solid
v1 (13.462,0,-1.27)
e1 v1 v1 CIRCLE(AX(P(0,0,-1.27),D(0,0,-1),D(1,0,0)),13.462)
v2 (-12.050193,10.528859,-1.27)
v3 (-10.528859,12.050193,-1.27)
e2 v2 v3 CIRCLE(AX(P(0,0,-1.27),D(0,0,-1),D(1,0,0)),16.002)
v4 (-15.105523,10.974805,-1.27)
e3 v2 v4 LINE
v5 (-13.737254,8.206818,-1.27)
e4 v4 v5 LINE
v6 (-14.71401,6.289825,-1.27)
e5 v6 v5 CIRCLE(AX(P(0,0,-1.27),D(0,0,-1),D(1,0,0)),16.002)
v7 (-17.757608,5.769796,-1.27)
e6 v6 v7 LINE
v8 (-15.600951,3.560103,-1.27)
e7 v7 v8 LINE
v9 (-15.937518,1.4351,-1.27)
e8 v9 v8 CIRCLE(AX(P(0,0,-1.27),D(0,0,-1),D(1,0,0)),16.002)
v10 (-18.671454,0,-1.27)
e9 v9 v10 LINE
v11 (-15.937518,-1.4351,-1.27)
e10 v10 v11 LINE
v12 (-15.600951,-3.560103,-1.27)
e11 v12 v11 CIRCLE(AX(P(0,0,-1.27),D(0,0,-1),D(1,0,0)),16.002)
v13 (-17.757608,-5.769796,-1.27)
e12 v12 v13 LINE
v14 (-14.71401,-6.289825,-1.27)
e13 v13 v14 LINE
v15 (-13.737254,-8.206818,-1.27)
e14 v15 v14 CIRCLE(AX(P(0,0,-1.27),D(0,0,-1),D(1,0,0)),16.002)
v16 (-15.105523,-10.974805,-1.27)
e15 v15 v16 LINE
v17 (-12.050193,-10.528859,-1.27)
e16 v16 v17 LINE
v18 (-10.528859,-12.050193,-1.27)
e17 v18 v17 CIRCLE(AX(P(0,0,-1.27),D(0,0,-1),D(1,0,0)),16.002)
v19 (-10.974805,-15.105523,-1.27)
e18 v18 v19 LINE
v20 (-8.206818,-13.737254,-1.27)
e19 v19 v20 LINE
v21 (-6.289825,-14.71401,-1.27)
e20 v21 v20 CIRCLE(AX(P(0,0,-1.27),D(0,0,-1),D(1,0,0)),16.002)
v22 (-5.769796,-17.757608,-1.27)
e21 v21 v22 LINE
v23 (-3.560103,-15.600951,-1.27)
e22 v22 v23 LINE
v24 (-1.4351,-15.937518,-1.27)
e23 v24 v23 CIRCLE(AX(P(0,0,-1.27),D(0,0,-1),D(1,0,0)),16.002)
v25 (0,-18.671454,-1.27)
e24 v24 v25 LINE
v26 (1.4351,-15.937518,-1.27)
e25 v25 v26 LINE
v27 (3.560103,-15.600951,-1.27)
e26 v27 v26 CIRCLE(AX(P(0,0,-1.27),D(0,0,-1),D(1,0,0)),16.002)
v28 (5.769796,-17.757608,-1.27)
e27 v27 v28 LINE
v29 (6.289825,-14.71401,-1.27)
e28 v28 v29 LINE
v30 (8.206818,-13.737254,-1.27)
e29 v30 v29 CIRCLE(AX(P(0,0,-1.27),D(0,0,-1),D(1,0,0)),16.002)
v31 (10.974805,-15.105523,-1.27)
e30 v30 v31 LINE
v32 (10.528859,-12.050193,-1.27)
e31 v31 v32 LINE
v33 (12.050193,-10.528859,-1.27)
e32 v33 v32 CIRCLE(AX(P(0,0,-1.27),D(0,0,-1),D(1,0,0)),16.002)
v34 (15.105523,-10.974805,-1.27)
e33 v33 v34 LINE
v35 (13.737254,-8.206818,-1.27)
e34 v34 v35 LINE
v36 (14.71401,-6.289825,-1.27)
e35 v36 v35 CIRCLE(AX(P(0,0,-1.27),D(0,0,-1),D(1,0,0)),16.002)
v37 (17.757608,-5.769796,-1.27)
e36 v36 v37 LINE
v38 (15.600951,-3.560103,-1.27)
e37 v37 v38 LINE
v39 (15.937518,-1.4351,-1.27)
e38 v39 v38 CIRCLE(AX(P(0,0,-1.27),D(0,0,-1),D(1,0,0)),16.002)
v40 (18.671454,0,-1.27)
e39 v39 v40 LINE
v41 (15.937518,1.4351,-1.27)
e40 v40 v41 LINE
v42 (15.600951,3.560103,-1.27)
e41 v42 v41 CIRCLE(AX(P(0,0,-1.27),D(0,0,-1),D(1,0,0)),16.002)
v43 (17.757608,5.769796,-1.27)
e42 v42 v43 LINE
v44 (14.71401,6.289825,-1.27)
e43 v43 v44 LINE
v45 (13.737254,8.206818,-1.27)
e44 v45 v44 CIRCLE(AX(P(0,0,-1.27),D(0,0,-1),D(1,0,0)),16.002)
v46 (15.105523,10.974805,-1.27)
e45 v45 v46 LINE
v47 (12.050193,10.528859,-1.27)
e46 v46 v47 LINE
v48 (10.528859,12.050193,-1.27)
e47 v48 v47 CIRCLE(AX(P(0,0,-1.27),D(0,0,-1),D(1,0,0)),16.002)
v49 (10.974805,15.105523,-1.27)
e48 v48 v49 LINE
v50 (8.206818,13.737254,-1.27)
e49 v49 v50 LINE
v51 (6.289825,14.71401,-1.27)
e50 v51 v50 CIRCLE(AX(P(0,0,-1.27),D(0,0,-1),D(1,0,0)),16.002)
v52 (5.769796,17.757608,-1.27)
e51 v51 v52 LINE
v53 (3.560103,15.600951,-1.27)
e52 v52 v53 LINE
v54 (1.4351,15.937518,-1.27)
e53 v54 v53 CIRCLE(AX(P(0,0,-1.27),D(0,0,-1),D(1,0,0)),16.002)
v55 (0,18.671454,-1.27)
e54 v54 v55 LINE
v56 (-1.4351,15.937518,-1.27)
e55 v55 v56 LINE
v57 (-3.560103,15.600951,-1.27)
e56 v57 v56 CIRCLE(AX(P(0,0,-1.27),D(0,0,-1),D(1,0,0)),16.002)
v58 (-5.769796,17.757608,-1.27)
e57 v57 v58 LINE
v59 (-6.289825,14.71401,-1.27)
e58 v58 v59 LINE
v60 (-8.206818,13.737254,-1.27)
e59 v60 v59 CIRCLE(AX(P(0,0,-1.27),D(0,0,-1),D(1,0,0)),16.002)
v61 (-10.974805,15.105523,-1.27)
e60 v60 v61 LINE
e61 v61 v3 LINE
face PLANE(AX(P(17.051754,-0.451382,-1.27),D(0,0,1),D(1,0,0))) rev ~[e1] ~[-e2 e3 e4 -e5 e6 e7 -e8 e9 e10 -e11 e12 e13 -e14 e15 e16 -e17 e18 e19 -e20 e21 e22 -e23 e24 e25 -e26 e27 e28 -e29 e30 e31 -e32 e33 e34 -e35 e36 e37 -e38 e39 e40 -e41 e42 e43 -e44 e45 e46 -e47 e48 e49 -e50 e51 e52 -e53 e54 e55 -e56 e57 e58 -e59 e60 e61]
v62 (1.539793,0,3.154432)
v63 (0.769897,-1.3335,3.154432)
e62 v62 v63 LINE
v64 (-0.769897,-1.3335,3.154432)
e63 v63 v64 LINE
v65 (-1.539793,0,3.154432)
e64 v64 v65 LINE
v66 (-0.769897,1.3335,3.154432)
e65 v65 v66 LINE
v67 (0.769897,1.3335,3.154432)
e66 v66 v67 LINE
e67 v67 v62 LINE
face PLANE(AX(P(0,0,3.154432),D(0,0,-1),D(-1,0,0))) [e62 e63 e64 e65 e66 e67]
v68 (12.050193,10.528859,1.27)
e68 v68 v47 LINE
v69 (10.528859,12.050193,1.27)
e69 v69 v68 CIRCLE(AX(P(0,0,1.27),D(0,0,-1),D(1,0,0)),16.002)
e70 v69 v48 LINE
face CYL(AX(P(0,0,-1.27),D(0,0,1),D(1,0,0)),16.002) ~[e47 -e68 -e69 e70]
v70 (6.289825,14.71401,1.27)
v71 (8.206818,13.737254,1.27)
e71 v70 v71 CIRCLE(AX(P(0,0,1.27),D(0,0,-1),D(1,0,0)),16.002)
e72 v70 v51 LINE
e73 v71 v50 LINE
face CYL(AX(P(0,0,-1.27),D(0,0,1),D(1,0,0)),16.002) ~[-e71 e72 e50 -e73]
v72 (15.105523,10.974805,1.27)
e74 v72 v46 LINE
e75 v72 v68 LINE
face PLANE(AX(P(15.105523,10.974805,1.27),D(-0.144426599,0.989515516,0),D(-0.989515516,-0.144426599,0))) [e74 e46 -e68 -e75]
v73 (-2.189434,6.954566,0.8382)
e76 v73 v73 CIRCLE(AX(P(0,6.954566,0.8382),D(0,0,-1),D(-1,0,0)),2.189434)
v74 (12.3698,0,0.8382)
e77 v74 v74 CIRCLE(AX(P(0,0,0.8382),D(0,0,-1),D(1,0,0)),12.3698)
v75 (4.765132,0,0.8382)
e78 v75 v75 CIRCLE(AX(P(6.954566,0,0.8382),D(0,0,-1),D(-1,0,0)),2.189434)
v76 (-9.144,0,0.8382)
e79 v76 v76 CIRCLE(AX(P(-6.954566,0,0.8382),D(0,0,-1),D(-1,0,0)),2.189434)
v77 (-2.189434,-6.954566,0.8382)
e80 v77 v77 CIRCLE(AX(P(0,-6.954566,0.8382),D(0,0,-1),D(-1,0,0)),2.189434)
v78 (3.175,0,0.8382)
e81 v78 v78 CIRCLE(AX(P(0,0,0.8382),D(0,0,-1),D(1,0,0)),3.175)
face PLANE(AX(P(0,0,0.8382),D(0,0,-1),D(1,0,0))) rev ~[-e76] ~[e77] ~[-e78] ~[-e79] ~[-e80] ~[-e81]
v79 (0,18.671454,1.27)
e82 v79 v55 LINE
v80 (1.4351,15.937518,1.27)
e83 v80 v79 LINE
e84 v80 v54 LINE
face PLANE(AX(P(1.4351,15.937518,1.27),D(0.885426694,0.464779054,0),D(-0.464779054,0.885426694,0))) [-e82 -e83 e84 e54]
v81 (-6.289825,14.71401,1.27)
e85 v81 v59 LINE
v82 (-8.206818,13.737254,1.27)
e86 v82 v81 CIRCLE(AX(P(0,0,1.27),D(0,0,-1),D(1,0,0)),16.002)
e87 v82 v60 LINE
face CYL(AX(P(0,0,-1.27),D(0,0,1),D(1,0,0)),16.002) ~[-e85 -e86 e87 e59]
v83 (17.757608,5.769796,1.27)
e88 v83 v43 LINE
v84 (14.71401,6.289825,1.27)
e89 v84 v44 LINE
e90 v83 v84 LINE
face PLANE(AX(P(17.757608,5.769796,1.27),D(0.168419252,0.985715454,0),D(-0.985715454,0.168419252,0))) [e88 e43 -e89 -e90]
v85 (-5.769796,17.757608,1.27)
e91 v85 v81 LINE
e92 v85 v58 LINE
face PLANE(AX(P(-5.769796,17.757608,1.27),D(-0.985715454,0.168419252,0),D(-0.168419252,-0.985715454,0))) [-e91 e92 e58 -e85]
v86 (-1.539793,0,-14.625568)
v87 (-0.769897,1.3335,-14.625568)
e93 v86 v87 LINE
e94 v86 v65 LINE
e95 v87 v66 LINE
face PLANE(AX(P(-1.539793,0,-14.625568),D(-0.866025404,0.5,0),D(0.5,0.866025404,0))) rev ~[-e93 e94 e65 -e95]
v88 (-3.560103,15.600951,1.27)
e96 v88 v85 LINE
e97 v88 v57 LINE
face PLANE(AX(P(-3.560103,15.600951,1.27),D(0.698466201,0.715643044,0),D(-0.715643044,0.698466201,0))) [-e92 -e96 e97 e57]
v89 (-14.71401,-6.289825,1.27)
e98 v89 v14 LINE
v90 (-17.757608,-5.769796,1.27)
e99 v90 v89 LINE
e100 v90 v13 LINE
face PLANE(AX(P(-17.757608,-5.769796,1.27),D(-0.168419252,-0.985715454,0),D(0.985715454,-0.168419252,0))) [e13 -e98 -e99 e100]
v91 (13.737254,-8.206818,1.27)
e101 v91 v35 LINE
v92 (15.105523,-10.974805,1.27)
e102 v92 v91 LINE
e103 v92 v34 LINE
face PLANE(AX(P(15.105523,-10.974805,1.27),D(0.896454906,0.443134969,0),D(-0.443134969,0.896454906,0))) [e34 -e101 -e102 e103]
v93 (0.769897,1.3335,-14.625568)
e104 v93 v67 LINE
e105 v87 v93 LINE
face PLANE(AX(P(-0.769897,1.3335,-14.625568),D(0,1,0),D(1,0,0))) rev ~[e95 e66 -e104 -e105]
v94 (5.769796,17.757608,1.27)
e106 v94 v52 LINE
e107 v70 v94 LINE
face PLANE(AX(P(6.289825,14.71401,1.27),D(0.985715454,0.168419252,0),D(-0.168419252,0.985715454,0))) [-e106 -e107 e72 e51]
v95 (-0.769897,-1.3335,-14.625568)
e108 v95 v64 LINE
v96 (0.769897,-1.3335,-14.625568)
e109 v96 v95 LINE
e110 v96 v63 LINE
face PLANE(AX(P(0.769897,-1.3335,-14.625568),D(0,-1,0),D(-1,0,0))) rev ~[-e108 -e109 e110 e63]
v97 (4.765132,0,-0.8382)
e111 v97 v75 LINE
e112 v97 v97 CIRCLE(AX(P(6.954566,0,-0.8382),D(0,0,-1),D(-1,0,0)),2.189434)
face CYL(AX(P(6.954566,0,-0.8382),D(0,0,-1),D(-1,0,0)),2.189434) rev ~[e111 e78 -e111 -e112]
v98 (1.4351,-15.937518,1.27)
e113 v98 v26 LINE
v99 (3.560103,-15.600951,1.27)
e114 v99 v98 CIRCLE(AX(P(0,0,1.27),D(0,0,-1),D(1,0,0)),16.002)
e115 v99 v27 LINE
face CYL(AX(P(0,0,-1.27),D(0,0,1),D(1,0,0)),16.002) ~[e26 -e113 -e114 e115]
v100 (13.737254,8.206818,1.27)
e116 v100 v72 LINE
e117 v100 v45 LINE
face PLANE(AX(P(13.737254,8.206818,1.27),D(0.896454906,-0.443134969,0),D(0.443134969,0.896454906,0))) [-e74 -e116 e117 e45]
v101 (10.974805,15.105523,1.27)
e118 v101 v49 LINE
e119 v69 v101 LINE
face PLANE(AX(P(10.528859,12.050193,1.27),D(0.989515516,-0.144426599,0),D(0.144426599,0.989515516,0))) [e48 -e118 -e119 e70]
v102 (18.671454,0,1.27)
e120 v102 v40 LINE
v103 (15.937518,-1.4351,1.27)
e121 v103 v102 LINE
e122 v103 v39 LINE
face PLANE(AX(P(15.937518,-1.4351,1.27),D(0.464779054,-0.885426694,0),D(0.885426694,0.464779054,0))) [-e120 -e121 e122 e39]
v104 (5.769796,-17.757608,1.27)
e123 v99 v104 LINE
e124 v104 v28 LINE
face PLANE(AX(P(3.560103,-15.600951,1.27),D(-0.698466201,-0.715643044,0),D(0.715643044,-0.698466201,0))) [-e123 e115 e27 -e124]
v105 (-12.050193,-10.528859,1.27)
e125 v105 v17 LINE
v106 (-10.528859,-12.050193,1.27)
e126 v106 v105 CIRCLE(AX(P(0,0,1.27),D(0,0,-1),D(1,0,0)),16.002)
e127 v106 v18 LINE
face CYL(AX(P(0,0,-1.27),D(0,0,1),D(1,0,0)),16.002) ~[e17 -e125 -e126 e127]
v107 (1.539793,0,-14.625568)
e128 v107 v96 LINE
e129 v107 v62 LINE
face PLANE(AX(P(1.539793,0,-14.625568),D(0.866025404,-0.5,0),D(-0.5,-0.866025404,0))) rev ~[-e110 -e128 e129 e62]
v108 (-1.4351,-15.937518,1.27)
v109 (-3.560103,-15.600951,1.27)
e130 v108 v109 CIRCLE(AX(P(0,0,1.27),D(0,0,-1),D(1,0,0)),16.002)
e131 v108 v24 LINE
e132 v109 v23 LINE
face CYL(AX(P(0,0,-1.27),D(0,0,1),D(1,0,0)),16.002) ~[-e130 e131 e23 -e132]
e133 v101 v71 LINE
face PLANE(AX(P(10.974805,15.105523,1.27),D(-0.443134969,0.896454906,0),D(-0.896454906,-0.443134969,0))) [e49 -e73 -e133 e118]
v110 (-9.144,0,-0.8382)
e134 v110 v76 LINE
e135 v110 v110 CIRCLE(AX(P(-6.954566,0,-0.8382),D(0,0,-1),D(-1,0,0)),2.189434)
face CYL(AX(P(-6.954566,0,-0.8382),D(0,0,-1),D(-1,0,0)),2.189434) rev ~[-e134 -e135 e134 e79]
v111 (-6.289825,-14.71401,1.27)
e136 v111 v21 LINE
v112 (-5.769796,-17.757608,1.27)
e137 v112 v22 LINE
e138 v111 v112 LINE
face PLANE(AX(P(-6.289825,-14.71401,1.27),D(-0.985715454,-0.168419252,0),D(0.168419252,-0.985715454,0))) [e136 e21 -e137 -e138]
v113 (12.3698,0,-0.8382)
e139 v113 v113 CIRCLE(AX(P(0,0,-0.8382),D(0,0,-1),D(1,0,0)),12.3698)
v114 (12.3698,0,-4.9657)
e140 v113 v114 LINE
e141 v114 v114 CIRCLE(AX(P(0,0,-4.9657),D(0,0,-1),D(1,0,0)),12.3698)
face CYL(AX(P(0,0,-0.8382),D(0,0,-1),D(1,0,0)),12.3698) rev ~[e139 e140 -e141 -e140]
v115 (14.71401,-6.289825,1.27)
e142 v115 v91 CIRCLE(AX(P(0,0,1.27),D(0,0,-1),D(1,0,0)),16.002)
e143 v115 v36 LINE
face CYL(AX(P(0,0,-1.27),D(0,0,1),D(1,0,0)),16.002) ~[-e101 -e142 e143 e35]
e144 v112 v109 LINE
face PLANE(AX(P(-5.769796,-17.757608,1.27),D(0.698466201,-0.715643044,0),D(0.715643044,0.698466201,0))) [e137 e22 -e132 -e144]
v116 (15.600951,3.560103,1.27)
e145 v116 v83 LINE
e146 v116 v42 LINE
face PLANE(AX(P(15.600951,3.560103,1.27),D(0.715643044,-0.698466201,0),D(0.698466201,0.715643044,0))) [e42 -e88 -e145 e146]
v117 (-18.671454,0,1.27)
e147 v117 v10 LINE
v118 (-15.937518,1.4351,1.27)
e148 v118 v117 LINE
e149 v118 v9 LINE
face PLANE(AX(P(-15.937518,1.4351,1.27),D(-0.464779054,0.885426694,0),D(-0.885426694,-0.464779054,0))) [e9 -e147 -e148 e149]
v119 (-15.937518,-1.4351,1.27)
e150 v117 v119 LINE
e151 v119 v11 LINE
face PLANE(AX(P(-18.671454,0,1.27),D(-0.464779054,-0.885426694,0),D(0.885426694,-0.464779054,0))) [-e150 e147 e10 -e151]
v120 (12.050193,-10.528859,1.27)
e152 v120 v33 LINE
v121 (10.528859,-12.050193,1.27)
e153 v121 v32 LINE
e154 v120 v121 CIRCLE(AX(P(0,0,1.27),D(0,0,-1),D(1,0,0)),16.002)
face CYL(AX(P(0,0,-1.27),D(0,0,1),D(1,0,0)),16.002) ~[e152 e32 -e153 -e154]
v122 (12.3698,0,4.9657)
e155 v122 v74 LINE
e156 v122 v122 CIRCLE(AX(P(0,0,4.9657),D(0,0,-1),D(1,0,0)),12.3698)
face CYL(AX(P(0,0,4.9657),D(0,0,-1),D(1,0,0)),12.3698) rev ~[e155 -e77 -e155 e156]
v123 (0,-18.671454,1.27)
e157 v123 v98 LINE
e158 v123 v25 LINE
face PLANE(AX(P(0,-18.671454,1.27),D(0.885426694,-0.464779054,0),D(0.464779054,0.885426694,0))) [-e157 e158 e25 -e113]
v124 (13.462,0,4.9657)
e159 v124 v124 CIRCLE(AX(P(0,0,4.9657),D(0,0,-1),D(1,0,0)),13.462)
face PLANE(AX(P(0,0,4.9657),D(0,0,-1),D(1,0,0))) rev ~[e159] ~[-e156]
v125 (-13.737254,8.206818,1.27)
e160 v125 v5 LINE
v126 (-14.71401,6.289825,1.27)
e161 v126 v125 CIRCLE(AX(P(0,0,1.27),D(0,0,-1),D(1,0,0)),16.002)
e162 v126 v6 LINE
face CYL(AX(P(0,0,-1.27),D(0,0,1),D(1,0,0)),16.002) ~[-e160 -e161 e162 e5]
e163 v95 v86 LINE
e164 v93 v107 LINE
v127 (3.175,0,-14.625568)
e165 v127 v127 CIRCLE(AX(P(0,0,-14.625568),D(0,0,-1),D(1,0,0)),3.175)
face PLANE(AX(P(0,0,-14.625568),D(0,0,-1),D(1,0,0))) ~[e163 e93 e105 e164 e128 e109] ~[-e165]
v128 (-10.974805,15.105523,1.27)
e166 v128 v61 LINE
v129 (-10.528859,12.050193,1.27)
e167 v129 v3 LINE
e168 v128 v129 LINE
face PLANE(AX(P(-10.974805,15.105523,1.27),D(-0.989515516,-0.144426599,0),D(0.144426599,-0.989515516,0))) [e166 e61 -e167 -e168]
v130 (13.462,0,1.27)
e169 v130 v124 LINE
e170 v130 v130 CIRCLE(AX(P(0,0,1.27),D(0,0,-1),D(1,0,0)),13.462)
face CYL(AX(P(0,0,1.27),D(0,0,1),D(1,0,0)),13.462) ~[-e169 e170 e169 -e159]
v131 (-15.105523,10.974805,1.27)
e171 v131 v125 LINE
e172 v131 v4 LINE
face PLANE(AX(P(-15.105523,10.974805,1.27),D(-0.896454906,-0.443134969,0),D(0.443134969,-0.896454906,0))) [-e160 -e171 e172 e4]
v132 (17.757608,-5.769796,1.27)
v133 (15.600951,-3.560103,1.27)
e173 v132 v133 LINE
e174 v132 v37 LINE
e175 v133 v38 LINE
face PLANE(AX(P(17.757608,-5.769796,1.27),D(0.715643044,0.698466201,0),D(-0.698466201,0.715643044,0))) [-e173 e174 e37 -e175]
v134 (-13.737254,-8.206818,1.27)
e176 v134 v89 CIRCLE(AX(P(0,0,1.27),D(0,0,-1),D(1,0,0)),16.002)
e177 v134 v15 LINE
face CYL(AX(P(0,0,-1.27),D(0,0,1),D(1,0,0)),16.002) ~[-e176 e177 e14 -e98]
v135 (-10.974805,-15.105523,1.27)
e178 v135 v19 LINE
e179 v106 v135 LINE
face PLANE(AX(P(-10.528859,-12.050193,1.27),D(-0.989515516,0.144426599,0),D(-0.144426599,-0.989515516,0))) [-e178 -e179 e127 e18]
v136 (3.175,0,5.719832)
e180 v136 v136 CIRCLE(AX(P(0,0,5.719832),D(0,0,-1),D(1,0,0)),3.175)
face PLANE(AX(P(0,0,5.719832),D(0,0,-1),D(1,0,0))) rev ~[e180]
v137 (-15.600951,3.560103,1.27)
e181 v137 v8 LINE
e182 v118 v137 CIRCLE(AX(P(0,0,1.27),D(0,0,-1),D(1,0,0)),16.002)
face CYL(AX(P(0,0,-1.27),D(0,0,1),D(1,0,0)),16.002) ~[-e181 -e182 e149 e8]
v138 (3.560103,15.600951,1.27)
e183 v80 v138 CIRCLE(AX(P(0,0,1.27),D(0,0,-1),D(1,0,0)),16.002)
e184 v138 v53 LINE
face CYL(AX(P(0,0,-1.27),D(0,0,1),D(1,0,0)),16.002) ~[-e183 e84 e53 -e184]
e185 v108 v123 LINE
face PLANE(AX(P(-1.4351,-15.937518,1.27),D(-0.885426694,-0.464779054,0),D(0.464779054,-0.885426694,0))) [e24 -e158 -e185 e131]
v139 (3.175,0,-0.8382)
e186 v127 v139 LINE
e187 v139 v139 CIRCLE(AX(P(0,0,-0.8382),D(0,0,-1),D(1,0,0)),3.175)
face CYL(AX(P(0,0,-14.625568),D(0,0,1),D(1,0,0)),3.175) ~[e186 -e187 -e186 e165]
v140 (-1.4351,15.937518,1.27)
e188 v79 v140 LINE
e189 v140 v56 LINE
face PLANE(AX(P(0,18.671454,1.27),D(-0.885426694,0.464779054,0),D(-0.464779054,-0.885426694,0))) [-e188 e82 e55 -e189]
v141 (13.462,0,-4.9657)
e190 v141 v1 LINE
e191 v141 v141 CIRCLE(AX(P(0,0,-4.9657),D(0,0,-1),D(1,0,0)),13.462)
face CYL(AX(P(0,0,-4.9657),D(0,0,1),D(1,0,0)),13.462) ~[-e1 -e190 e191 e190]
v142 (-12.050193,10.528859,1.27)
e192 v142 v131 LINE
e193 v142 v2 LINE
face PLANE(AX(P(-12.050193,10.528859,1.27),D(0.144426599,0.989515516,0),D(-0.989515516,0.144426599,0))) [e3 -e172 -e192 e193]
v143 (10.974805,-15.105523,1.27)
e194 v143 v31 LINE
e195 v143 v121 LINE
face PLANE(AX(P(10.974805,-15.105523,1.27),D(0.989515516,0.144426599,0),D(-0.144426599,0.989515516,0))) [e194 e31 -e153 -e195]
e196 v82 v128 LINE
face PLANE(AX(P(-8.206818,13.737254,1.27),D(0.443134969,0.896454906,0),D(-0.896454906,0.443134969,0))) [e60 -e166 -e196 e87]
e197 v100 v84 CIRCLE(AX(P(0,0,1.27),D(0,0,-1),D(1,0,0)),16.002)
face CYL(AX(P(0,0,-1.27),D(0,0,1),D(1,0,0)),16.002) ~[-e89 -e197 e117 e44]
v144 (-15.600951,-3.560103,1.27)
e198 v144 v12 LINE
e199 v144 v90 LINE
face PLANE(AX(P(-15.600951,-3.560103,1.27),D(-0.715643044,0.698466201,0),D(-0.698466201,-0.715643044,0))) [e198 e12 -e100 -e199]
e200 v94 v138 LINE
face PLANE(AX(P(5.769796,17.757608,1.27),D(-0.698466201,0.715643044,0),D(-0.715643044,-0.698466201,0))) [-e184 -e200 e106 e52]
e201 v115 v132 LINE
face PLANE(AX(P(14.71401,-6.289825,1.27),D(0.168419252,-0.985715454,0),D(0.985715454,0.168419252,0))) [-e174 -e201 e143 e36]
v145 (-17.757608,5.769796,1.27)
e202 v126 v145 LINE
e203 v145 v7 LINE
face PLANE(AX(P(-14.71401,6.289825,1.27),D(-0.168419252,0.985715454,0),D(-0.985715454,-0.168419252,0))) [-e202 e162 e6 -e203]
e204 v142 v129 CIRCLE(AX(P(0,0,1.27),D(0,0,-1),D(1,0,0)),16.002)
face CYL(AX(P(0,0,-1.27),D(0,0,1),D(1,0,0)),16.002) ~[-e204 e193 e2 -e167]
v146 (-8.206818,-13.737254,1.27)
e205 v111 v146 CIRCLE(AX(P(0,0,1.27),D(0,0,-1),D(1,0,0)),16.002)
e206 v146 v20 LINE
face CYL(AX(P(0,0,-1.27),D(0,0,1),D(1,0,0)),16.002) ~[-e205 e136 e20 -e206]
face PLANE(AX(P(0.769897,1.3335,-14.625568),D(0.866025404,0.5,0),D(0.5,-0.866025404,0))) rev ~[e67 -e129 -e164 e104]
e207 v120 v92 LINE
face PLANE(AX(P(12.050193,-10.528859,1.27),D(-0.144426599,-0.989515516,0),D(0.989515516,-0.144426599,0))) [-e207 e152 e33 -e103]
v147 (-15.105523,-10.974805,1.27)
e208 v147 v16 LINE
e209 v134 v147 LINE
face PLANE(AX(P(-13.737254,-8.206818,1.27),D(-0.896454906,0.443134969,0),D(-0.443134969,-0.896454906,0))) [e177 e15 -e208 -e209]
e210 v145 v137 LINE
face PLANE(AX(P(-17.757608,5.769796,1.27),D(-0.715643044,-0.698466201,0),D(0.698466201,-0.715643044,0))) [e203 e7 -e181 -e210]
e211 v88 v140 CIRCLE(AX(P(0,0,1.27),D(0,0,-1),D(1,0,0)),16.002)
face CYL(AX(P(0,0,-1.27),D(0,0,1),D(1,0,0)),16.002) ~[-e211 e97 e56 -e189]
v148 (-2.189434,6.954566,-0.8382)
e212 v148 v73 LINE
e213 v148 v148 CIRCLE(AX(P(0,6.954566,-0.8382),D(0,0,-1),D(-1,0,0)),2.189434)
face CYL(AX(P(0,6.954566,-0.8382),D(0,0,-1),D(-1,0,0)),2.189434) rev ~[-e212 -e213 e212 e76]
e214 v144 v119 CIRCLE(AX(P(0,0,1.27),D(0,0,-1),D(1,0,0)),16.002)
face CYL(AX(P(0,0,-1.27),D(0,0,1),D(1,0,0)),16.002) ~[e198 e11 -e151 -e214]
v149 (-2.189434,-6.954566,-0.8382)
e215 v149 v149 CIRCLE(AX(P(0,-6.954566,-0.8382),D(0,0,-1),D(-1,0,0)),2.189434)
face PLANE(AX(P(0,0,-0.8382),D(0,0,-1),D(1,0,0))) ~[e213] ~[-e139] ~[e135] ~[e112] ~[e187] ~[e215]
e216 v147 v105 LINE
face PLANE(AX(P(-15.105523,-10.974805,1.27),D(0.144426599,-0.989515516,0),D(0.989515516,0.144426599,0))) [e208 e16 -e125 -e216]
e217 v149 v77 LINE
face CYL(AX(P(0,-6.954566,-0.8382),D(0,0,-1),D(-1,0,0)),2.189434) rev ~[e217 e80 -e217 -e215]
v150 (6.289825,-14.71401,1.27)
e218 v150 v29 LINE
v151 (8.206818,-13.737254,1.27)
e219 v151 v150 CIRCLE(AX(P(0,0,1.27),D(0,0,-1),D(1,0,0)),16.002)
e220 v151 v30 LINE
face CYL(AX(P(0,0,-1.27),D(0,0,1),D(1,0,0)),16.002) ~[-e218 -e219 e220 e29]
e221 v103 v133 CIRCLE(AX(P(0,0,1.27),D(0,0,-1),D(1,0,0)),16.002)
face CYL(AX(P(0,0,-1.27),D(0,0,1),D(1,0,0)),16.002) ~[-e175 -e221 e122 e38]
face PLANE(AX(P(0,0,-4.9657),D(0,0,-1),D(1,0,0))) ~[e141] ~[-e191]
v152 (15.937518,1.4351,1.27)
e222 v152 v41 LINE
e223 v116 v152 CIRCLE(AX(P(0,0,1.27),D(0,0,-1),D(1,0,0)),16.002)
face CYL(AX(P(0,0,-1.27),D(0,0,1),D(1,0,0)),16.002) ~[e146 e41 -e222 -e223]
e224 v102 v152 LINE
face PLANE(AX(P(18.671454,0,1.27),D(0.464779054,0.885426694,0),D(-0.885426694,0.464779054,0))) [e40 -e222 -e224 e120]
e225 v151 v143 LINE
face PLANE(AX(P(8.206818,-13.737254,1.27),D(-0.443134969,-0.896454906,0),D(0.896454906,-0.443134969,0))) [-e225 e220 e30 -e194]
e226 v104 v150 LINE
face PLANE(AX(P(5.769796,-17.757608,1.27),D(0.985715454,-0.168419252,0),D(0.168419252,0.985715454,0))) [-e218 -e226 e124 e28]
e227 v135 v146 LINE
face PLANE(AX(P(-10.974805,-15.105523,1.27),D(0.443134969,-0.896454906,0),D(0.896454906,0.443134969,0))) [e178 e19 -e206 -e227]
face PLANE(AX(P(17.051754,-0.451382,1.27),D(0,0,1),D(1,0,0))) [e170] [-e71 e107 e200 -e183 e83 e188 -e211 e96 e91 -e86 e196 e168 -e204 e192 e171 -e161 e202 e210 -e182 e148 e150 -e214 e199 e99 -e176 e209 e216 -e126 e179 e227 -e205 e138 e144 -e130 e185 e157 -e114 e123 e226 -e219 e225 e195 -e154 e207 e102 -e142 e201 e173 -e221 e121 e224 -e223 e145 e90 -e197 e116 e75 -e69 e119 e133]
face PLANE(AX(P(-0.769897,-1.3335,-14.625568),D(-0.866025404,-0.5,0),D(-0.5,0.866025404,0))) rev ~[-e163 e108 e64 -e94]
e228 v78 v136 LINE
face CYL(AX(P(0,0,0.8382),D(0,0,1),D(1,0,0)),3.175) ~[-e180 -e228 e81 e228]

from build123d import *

# Parameters (mm, degrees)
CUT_EXTRUDE2_DEPTH  = 17.78
SKETCH4_R           = 2.189434211
CUT_EXTRUDE3_DEPTH  = 1.6764
BOSS_EXTRUDE1_DEPTH = 2.54


with BuildPart() as part:
    # Sketch1 → Revolve1 (revolve)
    with BuildSketch(Plane(origin=(0, 0, 0), x_dir=(0, 0, -1), z_dir=(1, 0, 0)), mode=Mode.PRIVATE) as revolve1_sk:
        Polygon((4.9657, 13.462), (1.27, 13.462), (1.27, 16.002), (-1.27, 16.002), (-1.27, 13.462), (-4.9657, 13.462), (-4.9657, 12.3698), (-0.8382, 12.3698), (-0.8382, 3.175), (-5.719832453, 3.175), (-5.719832453, 0), (0, 0), (14.625567547, 0), (14.625567547, 3.175), (0.8382, 3.175), (0.8382, 12.3698), (4.9657, 12.3698), align=None)
    revolve(revolve1_sk.sketch.rotate(Axis((0, 0, 0), (0, 0, -1)), 90), axis=Axis((0, 0, 0), (0, 0, -1)))

    # Sketch3 → Cut-Extrude2 (cut)
    with BuildSketch(Plane(origin=(0, 0, -14.625567547), x_dir=(-1, 0, 0), z_dir=(0, 0, -1))):
        Polygon((1.539793168, 0), (0.769896584, 1.3335), (-0.769896584, 1.3335), (-1.539793168, 0), (-0.769896584, -1.3335), (0.769896584, -1.3335), align=None)
    extrude(amount=-CUT_EXTRUDE2_DEPTH, mode=Mode.SUBTRACT)

    # Sketch4 → Cut-Extrude3 (cut)
    with BuildSketch(Plane(origin=(0, 0, -0.8382), x_dir=(-1, 0, 0), z_dir=(0, 0, -1))):
        with Locations((0, 6.954565789)):
            Circle(SKETCH4_R)
        with Locations((6.954565789, 0)):
            Circle(SKETCH4_R)
        with Locations((0, -6.954565789)):
            Circle(SKETCH4_R)
        with Locations((-6.954565789, 0)):
            Circle(SKETCH4_R)
    extrude(amount=-CUT_EXTRUDE3_DEPTH, mode=Mode.SUBTRACT)

    # Sketch5 → Boss-Extrude1 (add)
    with BuildSketch(Plane.XY.offset(1.27)):
        with BuildLine():
            ThreePointArc((-13.73725383, 8.206817971), (-12.945889944, 9.405739607), (-12.050192599, 10.528858548))
            Line((-12.050192599, 10.528858548), (-15.10552331, 10.974805092))
            Line((-15.10552331, 10.974805092), (-13.73725383, 8.206817971))
        make_face()
        with BuildLine():
            ThreePointArc((-10.528858548, 12.050192599), (-9.405739607, 12.945889944), (-8.206817971, 13.73725383))
            Line((-8.206817971, 13.73725383), (-10.974805092, 15.10552331))
            Line((-10.974805092, 15.10552331), (-10.528858548, 12.050192599))
        make_face()
        with BuildLine():
            ThreePointArc((-6.289825233, 14.714010417), (-4.944889944, 15.218806374), (-3.56010282, 15.600950994))
            Line((-3.56010282, 15.600950994), (-5.769796486, 17.757607659))
            Line((-5.769796486, 17.757607659), (-6.289825233, 14.714010417))
        make_face()
        with BuildLine():
            ThreePointArc((-1.4351, 15.937518376), (0, 16.002), (1.4351, 15.937518376))
            Line((1.4351, 15.937518376), (0, 18.671453646))
            Line((0, 18.671453646), (-1.4351, 15.937518376))
        make_face()
        with BuildLine():
            ThreePointArc((3.56010282, 15.600950994), (4.944889944, 15.218806374), (6.289825233, 14.714010417))
            Line((6.289825233, 14.714010417), (5.769796486, 17.757607659))
            Line((5.769796486, 17.757607659), (3.56010282, 15.600950994))
        make_face()
        with BuildLine():
            ThreePointArc((8.206817971, 13.73725383), (9.405739607, 12.945889944), (10.528858548, 12.050192599))
            Line((10.528858548, 12.050192599), (10.974805092, 15.10552331))
            Line((10.974805092, 15.10552331), (8.206817971, 13.73725383))
        make_face()
        with BuildLine():
            ThreePointArc((12.050192599, 10.528858548), (12.945889944, 9.405739607), (13.73725383, 8.206817971))
            Line((13.73725383, 8.206817971), (15.10552331, 10.974805092))
            Line((15.10552331, 10.974805092), (12.050192599, 10.528858548))
        make_face()
        with BuildLine():
            ThreePointArc((14.714010417, 6.289825233), (15.218806374, 4.944889944), (15.600950994, 3.56010282))
            Line((15.600950994, 3.56010282), (17.757607659, 5.769796486))
            Line((17.757607659, 5.769796486), (14.714010417, 6.289825233))
        make_face()
        with BuildLine():
            Line((18.671453646, 0), (16.002, 0))
            ThreePointArc((16.002, 0), (15.985871466, -0.718273954), (15.937518376, -1.4351))
            Line((15.937518376, -1.4351), (18.671453646, 0))
        make_face()
        with BuildLine():
            ThreePointArc((15.937518376, 1.4351), (15.985871466, 0.718273954), (16.002, 0))
            Line((16.002, 0), (18.671453646, 0))
            Line((18.671453646, 0), (15.937518376, 1.4351))
        make_face()
        with BuildLine():
            Line((17.757607659, -5.769796486), (15.600950994, -3.56010282))
            ThreePointArc((15.600950994, -3.56010282), (15.218806374, -4.944889944), (14.714010417, -6.289825233))
            Line((14.714010417, -6.289825233), (17.757607659, -5.769796486))
        make_face()
        with BuildLine():
            Line((15.10552331, -10.974805092), (13.73725383, -8.206817971))
            ThreePointArc((13.73725383, -8.206817971), (12.945889944, -9.405739607), (12.050192599, -10.528858548))
            Line((12.050192599, -10.528858548), (15.10552331, -10.974805092))
        make_face()
        with BuildLine():
            Line((10.974805092, -15.10552331), (10.528858548, -12.050192599))
            ThreePointArc((10.528858548, -12.050192599), (9.405739607, -12.945889944), (8.206817971, -13.73725383))
            Line((8.206817971, -13.73725383), (10.974805092, -15.10552331))
        make_face()
        with BuildLine():
            Line((5.769796486, -17.757607659), (6.289825233, -14.714010417))
            ThreePointArc((6.289825233, -14.714010417), (4.944889944, -15.218806374), (3.56010282, -15.600950994))
            Line((3.56010282, -15.600950994), (5.769796486, -17.757607659))
        make_face()
        with BuildLine():
            Line((0, -18.671453646), (1.4351, -15.937518376))
            ThreePointArc((1.4351, -15.937518376), (0, -16.002), (-1.4351, -15.937518376))
            Line((-1.4351, -15.937518376), (0, -18.671453646))
        make_face()
        with BuildLine():
            Line((-5.769796486, -17.757607659), (-3.56010282, -15.600950994))
            ThreePointArc((-3.56010282, -15.600950994), (-4.944889944, -15.218806374), (-6.289825233, -14.714010417))
            Line((-6.289825233, -14.714010417), (-5.769796486, -17.757607659))
        make_face()
        with BuildLine():
            Line((-10.974805092, -15.10552331), (-8.206817971, -13.73725383))
            ThreePointArc((-8.206817971, -13.73725383), (-9.405739607, -12.945889944), (-10.528858548, -12.050192599))
            Line((-10.528858548, -12.050192599), (-10.974805092, -15.10552331))
        make_face()
        with BuildLine():
            Line((-15.10552331, -10.974805092), (-12.050192599, -10.528858548))
            ThreePointArc((-12.050192599, -10.528858548), (-12.945889944, -9.405739607), (-13.73725383, -8.206817971))
            Line((-13.73725383, -8.206817971), (-15.10552331, -10.974805092))
        make_face()
        with BuildLine():
            Line((-17.757607659, -5.769796486), (-14.714010417, -6.289825233))
            ThreePointArc((-14.714010417, -6.289825233), (-15.218806374, -4.944889944), (-15.600950994, -3.56010282))
            Line((-15.600950994, -3.56010282), (-17.757607659, -5.769796486))
        make_face()
        with BuildLine():
            ThreePointArc((-15.937518376, -1.4351), (-16.002, 0), (-15.937518376, 1.4351))
            Line((-15.937518376, 1.4351), (-18.671453646, 0))
            Line((-18.671453646, 0), (-15.937518376, -1.4351))
        make_face()
        with BuildLine():
            ThreePointArc((-15.600950994, 3.56010282), (-15.218806374, 4.944889944), (-14.714010417, 6.289825233))
            Line((-14.714010417, 6.289825233), (-17.757607659, 5.769796486))
            Line((-17.757607659, 5.769796486), (-15.600950994, 3.56010282))
        make_face()
    extrude(amount=-BOSS_EXTRUDE1_DEPTH)


solid = part.part
